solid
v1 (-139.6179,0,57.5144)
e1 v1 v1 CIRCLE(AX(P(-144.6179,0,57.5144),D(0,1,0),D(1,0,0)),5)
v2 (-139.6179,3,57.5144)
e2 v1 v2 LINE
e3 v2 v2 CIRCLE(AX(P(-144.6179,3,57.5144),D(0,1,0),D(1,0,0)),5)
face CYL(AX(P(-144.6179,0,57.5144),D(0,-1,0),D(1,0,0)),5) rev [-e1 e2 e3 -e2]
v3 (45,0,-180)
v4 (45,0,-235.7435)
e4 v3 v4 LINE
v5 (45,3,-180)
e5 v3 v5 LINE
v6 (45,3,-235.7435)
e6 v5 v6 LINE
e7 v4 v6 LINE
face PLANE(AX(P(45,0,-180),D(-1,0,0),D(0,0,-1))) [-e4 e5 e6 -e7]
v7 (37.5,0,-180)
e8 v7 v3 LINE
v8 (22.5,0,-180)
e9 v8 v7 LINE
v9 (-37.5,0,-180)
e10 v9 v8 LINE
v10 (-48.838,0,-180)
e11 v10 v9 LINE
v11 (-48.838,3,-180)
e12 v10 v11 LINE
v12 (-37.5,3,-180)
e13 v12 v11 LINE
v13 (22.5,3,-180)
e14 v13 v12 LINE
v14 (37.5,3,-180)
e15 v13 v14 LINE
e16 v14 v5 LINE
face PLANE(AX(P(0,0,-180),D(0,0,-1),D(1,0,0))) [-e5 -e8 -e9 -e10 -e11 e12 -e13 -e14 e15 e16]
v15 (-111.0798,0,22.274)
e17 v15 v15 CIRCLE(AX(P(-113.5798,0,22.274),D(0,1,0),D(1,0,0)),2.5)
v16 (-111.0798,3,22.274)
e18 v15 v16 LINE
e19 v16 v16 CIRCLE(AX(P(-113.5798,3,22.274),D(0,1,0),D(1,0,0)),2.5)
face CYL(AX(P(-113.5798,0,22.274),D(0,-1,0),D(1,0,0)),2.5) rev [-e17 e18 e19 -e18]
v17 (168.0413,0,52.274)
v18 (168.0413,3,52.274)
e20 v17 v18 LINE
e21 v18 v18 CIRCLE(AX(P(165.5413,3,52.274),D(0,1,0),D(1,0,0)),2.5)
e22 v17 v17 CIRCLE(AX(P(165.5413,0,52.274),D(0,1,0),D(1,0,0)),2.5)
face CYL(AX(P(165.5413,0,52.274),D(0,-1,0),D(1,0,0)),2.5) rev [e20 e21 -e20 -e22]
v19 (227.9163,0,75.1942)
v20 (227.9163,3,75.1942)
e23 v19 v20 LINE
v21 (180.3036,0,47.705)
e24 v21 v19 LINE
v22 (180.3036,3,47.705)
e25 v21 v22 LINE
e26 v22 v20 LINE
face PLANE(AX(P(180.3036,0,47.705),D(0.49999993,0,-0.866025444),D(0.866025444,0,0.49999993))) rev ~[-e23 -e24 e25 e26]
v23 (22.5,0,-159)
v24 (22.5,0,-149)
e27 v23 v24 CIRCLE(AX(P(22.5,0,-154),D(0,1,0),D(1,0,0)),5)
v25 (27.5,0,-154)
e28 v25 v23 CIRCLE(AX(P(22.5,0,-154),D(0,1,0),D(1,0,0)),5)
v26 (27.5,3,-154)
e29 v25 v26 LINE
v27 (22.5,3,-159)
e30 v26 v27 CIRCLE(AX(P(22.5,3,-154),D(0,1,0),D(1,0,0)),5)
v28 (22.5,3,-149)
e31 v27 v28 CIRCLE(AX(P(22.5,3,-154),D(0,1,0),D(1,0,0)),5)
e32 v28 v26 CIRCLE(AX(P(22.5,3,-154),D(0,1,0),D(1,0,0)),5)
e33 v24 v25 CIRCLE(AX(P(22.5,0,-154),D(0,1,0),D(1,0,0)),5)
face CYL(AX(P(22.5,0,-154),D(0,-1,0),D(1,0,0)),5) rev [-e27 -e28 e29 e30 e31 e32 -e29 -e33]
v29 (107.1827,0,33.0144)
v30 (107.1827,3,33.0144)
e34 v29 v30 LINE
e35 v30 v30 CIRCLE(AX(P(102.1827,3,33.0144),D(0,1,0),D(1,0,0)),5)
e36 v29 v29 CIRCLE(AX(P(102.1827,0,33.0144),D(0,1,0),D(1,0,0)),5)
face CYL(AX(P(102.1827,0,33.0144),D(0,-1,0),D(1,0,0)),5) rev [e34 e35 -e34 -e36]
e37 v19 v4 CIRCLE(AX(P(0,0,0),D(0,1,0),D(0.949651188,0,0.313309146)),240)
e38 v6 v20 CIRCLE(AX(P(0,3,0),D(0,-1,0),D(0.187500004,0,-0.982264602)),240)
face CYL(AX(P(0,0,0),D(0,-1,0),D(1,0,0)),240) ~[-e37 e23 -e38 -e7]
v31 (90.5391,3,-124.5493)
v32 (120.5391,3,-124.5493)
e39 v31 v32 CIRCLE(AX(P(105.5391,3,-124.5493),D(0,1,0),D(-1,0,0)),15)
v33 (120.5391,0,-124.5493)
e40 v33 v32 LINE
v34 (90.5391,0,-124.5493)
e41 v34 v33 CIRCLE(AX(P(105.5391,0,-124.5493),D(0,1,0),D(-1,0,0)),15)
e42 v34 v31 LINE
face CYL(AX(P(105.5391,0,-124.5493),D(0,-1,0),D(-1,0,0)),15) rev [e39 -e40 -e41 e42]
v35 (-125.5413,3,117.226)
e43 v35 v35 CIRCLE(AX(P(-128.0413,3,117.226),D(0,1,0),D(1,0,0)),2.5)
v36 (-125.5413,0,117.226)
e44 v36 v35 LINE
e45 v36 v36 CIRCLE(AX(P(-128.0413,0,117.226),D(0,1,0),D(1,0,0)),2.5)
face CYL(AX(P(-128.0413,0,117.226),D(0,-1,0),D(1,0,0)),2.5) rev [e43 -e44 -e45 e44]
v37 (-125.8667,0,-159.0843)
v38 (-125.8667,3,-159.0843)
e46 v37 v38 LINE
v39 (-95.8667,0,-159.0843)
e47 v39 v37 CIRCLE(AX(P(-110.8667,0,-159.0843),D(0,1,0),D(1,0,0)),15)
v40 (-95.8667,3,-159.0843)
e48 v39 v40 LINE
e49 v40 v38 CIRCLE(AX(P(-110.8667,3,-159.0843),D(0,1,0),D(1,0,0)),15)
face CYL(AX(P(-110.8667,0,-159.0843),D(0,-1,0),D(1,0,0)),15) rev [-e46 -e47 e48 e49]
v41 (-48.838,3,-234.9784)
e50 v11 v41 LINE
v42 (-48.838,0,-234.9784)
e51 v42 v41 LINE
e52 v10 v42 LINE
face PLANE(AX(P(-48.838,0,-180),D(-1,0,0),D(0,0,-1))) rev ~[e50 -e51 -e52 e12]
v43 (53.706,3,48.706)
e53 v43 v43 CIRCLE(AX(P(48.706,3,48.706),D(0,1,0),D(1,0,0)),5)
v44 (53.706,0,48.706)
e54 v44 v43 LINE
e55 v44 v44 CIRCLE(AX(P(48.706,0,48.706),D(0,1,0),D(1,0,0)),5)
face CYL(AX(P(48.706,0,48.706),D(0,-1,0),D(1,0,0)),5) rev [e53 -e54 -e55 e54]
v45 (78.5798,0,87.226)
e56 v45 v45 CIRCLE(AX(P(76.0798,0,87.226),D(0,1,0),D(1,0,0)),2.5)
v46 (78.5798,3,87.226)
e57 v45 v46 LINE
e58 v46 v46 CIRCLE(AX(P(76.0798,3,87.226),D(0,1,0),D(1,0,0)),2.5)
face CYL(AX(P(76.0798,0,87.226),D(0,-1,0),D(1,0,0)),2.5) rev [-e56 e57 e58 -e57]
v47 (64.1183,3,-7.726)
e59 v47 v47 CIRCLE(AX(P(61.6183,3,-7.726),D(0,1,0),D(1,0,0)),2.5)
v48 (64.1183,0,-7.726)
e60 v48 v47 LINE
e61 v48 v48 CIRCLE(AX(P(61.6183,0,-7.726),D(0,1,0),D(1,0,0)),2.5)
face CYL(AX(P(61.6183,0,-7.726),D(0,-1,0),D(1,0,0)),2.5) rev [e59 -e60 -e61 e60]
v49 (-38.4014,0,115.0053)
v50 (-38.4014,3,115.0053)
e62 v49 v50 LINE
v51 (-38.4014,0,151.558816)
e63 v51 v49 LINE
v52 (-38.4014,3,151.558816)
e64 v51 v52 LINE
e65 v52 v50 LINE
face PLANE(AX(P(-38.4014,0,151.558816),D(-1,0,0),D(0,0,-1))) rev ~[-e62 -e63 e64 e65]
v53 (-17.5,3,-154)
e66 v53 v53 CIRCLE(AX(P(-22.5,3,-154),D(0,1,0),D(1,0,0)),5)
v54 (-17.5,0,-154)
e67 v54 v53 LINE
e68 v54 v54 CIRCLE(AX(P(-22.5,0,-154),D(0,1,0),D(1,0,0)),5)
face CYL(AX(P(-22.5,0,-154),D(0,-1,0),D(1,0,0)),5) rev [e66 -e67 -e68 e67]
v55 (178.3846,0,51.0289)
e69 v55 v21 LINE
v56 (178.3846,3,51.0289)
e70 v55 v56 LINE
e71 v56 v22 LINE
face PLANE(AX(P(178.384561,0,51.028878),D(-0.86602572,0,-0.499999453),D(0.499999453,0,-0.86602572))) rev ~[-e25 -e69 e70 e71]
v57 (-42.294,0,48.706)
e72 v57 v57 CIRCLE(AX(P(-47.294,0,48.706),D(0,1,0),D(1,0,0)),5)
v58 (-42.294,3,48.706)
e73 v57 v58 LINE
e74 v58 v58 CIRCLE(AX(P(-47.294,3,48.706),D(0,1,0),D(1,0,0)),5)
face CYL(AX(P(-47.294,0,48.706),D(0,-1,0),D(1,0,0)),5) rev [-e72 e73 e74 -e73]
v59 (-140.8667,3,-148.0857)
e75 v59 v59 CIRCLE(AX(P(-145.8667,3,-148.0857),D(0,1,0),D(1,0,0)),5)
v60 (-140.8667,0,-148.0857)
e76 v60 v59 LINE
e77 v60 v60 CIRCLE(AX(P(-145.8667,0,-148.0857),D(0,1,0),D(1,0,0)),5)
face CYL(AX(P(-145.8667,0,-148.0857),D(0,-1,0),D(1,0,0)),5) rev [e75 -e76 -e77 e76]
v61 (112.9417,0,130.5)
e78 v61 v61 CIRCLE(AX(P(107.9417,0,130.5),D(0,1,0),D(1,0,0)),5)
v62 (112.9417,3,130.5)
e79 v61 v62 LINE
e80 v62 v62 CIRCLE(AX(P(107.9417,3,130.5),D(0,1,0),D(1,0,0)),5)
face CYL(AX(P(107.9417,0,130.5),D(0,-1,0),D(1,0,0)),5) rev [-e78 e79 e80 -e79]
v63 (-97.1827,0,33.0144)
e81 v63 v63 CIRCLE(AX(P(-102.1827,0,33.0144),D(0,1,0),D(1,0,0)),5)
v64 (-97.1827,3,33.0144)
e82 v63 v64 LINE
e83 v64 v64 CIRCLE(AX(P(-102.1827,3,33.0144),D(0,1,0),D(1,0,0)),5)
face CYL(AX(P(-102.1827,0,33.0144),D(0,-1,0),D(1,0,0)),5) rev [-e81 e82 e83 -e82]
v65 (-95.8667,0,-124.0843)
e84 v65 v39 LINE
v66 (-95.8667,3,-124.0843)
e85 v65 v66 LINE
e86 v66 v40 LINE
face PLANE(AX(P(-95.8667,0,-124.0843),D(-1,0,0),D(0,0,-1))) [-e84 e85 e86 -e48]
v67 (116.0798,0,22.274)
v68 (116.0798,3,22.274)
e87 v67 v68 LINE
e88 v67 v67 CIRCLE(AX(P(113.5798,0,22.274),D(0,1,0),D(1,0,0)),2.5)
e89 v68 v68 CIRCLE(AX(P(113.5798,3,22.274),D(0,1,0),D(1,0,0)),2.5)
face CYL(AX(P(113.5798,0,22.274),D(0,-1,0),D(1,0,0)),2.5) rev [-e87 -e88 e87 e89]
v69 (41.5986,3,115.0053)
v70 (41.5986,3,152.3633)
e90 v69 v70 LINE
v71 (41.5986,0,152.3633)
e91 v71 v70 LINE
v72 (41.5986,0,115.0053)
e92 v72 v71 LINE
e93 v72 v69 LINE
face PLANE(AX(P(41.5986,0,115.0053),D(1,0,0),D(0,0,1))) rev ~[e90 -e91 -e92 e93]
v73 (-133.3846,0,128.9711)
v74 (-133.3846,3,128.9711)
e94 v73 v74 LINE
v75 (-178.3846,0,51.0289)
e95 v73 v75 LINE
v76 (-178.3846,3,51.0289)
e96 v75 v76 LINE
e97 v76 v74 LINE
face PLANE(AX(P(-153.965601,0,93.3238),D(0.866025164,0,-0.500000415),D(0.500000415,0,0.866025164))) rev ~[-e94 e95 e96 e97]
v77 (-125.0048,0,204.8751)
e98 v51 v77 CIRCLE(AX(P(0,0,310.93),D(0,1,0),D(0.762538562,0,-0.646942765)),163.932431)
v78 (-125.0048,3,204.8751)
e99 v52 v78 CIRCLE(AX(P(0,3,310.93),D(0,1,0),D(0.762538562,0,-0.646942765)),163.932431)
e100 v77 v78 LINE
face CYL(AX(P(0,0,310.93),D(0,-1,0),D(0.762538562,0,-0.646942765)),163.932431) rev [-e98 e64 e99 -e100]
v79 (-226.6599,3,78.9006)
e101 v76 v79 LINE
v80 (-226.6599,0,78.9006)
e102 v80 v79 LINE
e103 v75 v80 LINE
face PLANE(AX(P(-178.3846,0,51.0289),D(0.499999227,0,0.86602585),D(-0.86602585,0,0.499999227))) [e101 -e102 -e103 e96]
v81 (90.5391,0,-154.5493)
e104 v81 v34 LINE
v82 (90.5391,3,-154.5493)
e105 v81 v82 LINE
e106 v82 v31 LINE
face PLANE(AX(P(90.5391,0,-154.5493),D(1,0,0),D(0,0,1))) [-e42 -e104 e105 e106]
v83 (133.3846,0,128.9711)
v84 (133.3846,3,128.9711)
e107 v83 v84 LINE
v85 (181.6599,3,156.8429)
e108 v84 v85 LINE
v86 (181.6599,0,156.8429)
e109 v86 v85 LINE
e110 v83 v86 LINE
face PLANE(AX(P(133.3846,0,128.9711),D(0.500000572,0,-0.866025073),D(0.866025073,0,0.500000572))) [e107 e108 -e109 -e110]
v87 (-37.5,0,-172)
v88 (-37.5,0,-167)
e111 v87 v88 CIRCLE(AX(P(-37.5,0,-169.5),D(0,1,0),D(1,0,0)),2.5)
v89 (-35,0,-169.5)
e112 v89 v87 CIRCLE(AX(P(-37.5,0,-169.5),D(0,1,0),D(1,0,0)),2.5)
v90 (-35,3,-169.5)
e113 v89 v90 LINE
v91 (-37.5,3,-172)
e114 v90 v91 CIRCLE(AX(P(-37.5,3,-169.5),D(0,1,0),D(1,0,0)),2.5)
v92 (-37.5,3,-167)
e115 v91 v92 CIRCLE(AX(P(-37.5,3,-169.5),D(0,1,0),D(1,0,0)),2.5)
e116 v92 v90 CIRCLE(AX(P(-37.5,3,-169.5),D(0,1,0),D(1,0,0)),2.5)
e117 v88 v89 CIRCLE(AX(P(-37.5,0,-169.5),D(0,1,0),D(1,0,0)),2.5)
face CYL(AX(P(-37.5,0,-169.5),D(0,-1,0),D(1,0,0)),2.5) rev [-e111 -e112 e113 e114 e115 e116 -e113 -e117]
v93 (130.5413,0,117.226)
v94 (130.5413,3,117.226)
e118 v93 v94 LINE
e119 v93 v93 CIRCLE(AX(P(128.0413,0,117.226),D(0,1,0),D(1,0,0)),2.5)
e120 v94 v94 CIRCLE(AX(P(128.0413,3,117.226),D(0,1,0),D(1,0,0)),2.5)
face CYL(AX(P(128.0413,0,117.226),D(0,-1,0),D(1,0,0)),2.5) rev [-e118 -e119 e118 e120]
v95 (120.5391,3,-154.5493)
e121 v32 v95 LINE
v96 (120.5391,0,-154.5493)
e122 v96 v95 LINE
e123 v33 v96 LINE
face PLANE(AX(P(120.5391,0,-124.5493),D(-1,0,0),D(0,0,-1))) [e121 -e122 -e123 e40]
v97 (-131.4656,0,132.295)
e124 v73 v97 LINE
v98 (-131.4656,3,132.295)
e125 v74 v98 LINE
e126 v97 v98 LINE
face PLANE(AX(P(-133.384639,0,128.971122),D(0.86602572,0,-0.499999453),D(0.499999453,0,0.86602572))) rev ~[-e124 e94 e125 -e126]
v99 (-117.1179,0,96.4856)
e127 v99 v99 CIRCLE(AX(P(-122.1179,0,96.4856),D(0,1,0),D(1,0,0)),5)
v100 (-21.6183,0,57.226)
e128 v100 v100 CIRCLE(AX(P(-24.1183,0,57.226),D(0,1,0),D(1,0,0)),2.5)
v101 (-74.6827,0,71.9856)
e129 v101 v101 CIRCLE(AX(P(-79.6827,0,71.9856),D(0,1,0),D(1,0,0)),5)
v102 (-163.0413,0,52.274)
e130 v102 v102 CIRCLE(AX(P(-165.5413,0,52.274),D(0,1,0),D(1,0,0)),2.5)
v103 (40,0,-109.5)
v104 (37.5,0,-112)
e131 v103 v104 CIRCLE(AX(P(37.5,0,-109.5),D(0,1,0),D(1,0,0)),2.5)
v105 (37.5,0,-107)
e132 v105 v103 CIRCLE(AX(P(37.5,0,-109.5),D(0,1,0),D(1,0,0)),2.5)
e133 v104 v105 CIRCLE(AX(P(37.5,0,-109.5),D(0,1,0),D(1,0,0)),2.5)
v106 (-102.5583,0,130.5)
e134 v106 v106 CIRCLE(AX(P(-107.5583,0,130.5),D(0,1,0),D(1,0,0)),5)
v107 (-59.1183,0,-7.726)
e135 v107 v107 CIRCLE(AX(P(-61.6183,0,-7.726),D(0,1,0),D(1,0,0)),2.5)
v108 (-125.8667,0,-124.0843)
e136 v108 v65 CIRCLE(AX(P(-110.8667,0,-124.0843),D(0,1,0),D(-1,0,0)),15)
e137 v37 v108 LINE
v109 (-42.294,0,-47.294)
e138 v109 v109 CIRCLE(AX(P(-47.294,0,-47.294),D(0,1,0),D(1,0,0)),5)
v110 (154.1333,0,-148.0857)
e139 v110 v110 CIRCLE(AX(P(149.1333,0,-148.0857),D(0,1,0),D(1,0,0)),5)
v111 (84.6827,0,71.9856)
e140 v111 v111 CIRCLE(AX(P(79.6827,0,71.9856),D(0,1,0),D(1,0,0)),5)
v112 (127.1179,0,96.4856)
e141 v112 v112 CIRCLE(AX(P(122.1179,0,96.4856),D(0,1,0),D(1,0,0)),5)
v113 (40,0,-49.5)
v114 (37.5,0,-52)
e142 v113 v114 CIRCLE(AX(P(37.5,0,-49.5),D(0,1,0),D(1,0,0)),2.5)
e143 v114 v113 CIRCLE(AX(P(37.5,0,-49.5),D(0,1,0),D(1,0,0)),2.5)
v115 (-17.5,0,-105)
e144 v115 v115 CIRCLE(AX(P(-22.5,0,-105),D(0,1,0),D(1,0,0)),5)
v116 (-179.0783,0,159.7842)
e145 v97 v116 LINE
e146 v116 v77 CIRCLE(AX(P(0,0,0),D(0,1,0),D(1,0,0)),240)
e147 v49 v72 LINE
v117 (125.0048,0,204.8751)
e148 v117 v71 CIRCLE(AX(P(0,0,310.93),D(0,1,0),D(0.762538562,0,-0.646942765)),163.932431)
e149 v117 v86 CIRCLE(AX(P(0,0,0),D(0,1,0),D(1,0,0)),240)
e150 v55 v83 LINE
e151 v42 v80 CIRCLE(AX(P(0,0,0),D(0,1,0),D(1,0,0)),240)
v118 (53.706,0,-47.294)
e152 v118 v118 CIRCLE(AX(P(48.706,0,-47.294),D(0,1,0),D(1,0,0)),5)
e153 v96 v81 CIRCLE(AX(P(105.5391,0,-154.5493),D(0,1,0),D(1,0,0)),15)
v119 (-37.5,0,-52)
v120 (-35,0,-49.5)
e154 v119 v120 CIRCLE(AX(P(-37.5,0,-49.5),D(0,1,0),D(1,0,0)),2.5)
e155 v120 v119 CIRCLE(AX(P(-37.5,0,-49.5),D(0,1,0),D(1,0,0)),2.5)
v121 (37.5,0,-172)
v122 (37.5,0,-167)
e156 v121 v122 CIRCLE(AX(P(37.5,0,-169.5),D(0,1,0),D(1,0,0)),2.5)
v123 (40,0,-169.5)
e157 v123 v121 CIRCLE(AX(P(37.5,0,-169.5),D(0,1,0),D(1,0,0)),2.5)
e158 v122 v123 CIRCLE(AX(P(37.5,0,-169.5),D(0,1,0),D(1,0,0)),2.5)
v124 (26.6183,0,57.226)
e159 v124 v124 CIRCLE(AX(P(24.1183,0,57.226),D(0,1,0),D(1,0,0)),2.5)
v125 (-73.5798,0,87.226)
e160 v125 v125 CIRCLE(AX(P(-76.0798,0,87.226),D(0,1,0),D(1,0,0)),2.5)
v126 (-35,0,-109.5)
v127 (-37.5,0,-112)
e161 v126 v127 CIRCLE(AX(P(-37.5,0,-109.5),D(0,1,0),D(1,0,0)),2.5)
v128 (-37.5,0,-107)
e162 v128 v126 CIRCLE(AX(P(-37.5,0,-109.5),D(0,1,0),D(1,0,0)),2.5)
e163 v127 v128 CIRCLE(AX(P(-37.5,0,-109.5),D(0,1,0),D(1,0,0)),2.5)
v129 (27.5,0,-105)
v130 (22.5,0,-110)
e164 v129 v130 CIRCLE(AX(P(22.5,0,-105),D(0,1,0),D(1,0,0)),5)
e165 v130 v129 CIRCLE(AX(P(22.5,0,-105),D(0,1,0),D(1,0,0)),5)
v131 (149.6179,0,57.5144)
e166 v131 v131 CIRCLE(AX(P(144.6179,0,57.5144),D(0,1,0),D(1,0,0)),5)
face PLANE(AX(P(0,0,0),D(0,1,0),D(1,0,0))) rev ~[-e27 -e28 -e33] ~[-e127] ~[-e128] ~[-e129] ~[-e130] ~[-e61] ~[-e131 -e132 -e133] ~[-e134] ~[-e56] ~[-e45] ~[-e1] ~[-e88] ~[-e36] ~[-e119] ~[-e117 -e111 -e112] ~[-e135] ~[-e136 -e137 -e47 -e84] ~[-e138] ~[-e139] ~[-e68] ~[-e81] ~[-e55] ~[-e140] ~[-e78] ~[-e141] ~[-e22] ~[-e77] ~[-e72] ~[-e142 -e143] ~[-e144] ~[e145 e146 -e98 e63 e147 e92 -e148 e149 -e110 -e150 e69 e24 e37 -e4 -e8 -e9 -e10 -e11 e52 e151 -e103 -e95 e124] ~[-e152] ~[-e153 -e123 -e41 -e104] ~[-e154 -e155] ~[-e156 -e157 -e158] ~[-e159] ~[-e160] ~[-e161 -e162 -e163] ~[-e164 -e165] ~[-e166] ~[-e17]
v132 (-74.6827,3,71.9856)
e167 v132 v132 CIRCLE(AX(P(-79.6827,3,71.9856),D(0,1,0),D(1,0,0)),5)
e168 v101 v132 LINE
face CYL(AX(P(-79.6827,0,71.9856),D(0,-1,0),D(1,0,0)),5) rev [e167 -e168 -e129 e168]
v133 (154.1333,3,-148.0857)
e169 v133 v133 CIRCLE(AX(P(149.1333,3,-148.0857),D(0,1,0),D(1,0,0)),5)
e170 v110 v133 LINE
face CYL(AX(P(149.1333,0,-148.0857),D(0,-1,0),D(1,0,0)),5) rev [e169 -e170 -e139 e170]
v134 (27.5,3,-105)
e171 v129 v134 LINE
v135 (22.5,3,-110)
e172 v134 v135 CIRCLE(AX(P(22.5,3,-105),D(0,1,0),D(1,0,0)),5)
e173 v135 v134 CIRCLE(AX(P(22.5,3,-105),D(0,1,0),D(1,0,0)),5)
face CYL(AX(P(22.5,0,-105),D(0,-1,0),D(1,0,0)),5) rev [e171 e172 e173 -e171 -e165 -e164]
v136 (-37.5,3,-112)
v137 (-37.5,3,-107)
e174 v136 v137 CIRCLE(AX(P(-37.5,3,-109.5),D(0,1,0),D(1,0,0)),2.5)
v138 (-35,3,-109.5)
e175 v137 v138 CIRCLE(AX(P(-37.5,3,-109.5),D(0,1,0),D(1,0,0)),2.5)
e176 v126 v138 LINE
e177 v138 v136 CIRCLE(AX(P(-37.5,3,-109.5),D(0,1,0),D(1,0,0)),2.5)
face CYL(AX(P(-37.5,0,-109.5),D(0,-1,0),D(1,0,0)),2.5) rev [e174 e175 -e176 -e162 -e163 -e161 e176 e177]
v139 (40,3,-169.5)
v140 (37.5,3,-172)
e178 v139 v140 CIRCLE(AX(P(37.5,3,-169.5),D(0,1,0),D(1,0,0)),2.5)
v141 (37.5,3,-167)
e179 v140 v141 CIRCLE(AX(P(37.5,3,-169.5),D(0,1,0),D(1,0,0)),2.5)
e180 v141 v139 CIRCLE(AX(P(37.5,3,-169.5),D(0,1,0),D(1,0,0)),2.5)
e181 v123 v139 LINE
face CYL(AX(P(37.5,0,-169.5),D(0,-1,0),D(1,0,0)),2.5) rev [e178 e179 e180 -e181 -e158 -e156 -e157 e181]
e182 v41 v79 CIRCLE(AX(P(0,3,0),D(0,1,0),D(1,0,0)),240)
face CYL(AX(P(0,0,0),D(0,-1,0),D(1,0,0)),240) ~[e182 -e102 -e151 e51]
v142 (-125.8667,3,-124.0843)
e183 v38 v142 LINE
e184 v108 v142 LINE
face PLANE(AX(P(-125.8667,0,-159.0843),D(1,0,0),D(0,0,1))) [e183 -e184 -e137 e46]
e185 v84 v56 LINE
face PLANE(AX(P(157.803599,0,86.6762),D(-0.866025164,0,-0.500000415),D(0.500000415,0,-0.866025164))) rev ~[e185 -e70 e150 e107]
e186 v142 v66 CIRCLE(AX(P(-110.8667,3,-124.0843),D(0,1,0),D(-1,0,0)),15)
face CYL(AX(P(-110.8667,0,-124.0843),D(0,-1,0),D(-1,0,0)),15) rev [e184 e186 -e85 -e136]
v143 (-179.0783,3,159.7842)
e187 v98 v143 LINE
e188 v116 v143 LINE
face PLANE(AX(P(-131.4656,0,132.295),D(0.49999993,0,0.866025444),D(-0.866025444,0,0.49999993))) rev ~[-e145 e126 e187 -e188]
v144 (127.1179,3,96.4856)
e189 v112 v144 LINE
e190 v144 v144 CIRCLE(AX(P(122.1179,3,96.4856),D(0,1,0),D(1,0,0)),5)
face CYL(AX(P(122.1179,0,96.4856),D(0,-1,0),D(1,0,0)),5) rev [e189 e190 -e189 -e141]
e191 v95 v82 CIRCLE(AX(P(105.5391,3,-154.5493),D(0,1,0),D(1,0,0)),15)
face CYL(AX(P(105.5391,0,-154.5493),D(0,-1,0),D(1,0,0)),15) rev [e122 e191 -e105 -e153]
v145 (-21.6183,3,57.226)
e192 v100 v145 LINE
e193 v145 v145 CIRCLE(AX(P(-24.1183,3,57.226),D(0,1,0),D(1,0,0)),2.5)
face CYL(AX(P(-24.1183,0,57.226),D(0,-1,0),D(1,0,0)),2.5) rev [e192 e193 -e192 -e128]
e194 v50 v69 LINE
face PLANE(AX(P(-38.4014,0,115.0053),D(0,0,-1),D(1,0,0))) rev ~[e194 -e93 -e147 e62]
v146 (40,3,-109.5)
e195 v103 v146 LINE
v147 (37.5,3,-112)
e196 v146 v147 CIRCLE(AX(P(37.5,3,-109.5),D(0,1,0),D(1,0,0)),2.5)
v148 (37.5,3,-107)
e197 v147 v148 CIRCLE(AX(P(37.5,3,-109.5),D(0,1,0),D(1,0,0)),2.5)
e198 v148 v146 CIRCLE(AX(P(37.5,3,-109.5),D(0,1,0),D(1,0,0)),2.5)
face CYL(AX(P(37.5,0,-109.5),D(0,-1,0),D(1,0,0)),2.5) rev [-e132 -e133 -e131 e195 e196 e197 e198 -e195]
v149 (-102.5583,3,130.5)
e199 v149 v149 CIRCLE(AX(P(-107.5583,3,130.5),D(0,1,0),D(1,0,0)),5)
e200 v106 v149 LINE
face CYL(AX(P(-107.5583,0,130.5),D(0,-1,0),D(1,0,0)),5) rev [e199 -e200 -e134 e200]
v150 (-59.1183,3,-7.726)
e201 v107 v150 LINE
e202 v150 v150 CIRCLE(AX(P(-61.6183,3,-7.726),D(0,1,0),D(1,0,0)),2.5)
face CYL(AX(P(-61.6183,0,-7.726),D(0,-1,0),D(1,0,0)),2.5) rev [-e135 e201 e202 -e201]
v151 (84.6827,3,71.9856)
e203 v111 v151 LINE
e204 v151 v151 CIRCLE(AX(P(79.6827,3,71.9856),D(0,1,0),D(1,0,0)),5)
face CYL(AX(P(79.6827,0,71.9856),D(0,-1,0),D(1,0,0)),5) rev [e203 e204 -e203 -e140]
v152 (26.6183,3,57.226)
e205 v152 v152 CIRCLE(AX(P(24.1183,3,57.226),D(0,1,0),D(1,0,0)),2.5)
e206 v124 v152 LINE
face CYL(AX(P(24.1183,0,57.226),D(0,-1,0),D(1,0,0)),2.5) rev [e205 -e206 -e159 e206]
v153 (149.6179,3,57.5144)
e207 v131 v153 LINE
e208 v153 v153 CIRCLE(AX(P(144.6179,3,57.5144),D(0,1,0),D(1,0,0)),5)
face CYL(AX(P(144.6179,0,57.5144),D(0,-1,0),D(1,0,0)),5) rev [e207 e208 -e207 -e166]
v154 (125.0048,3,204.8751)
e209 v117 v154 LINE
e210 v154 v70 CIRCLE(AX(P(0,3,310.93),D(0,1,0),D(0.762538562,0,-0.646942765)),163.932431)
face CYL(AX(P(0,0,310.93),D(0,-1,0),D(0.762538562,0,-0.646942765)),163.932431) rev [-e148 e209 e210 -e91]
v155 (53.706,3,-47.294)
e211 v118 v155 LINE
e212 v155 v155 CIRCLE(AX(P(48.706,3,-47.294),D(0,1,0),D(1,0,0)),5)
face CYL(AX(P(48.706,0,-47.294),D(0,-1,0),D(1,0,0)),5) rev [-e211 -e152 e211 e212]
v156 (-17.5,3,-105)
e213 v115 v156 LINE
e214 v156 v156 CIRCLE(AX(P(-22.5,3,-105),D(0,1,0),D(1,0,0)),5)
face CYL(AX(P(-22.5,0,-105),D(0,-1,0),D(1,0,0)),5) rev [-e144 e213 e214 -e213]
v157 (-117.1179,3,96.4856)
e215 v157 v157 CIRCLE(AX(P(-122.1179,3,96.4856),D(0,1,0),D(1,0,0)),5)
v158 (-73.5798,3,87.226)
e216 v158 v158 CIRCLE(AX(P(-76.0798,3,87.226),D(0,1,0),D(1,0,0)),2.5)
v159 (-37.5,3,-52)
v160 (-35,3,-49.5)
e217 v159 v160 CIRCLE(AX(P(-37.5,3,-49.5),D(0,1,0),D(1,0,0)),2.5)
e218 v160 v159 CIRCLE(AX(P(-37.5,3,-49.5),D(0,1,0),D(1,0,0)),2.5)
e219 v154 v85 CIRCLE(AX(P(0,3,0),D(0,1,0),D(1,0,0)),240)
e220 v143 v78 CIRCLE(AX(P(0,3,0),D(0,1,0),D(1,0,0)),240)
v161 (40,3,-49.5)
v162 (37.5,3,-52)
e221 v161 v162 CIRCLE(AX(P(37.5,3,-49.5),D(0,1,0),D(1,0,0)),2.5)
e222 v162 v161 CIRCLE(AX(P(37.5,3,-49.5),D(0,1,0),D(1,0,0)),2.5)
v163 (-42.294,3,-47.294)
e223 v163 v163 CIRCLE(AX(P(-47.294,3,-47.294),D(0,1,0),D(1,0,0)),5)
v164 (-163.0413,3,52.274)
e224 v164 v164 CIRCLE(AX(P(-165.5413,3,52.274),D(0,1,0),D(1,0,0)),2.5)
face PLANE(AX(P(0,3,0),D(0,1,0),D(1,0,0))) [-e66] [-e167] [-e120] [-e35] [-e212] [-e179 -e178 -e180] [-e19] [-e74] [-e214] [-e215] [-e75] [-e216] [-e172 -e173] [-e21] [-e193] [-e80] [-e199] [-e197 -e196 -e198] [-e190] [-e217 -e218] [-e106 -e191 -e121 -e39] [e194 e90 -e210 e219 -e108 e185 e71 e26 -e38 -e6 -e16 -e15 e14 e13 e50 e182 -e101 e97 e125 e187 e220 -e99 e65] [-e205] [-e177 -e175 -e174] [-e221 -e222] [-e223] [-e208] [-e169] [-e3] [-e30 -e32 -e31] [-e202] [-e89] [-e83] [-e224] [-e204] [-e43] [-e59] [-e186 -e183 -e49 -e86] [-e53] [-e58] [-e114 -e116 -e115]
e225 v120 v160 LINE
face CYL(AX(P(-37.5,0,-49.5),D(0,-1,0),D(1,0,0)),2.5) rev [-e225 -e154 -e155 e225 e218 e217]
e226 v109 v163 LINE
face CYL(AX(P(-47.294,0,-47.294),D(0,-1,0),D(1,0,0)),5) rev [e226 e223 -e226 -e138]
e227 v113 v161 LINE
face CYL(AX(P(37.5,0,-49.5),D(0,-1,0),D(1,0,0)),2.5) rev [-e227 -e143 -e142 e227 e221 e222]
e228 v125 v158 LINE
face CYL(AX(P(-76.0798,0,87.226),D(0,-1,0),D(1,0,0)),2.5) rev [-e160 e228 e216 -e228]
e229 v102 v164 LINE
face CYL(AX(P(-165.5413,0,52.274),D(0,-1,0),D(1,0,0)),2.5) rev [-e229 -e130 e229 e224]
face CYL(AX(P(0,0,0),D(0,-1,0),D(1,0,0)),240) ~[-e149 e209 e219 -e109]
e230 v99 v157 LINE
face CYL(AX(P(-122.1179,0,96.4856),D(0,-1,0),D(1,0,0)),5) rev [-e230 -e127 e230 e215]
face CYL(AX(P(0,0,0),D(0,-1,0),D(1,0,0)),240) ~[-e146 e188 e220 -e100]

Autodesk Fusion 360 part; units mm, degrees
sketch "Sketch1" plane through (0, 0, 0) normal (0, 1, 0) x (1, 0, 0)
  circle A0 centre (0, 0) radius 240
  line L0 (0, -240) -> (125, -240)
  line L1 (125, -240) -> (125, -204.878)
  line L2 (0, 240) -> (0, -147)
  line L3 (125, -204.878) -> (-125, -204.878)
  arc A1 (125, -204.878) -> (-125, -204.878) centre (0, -310.9212) ccw
  circle A2 centre (-53.8749, 53.8749) radius 5
  line L4 (-53.8749, 53.8749) -> (51.1251, 53.8749)
  line L5 (51.1251, 53.8749) -> (51.1251, -51.1251)
  line L6 (51.1251, -51.1251) -> (-53.8749, -51.1251)
  line L7 (-53.8749, -51.1251) -> (-53.8749, 53.8749)
  circle A3 centre (51.1251, 53.8749) radius 5
  circle A4 centre (51.1251, -51.1251) radius 5
  circle A5 centre (-53.8749, -51.1251) radius 5
  line L8 (0, 240) -> (250, 240)
  line L9 (-53.8749, 53.8749) -> (-53.8749, 233.8749)
  line L10 (-53.8749, 53.8749) -> (-233.8749, 53.8749)
  line L11 (0, -147) -> (40, -147)
  line L12 (40, -147) -> (40, -151.9553)
  line L13 (0, -147) -> (0, -95)
  line L14 (0, -95) -> (-40, -95)
  line L15 (40, -151.9553) -> (-40, -151.9553)
  line L16 (-40, -151.9553) -> (-40, -95)
  line L17 (-40, -95) -> (40, -95)
  line L18 (40, -95) -> (40, -151.9553)
  line L19 (0, 0) -> (207.8461, -120)
  line L20 (0, 0) -> (240, 0) construction
  line L21 (0, 0) -> (-207.8461, -120)
  line L22 (0, 0) -> (0, 240)
  line L23 (0, 240) -> (45, 240)
  line L24 (45, 240) -> (-45, 240)
  line L25 (-45, 240) -> (-45, 187)
  line L26 (-45, 187) -> (45, 187)
  line L27 (45, 187) -> (45, 240)
  line L28 (207.8461, -120) -> (185.3461, -158.9711)
  line L29 (207.8461, -120) -> (230.3461, -81.0289)
  line L30 (230.3461, -81.0289) -> (184.4468, -54.5289)
  line L31 (184.4468, -54.5289) -> (139.4468, -132.4711)
  line L32 (139.4468, -132.4711) -> (185.3461, -158.9711)
  line L33 (-207.8461, -120) -> (-185.3461, -158.9711)
  line L34 (-185.3461, -158.9711) -> (-139.4468, -132.4711)
  line L35 (-139.4468, -132.4711) -> (-184.4468, -54.5289)
  line L36 (-184.4468, -54.5289) -> (-230.3461, -81.0289)
  line L37 (-207.8461, -120) -> (-230.3461, -81.0289)
  line L38 (-40, -95) -> (-40, -75)
  line L39 (-40, -75) -> (40, -75)
  line L40 (40, -75) -> (40, 74)
  line L41 (40, 74) -> (-40, 74)
  line L42 (0, -75) -> (21, -75)
  line L43 (21, -75) -> (-21, -75)
  line L44 (-21, -75) -> (-21, 74)
  line L45 (21, -75) -> (21, 74)
  circle A6 centre (-21, 74) radius 2
  circle A7 centre (21, 74) radius 2
  circle A8 centre (-21, -75) radius 2
  circle A9 centre (21, -75) radius 2
  line L46 (-139.4468, -132.4711) -> (-143.4468, -125.5429)
  line L47 (-184.4468, -54.5289) -> (-180.4468, -61.4571)
  line L48 (-143.4468, -125.5429) -> (-134.7865, -120.5429)
  line L49 (-134.7865, -120.5429) -> (-82.825, -90.5429)
  line L50 (-82.825, -90.5429) -> (-22.2032, -55.5429)
  line L51 (-139.4468, -132.4711) -> (-151.9468, -110.8205)
  line L52 (-151.9468, -110.8205) -> (-130.2961, -98.3205)
  line L53 (-130.2961, -98.3205) -> (-86.9948, -73.3205)
  line L54 (-184.4468, -54.5289) -> (-171.9468, -76.1795)
  line L55 (-171.9468, -76.1795) -> (-150.2961, -63.6795)
  line L56 (-150.2961, -63.6795) -> (-106.9948, -38.6795)
  line L57 (-180.4468, -61.4571) -> (-171.7865, -56.4571)
  line L58 (-171.7865, -56.4571) -> (-119.825, -26.4571)
  line L59 (-119.825, -26.4571) -> (-59.2032, 8.5429)
  circle A10 centre (-22.2032, -55.5429) radius 2.5
  circle A11 centre (-82.825, -90.5429) radius 2.5
  circle A12 centre (-134.7865, -120.5429) radius 2.5
  circle A13 centre (-59.2032, 8.5429) radius 2.5
  circle A14 centre (-119.825, -26.4571) radius 2.5
  circle A15 centre (-171.7865, -56.4571) radius 2.5
  circle A16 centre (-106.9948, -38.6795) radius 2.5
  circle A17 centre (-150.2961, -63.6795) radius 2.5
  circle A18 centre (-86.9948, -73.3205) radius 2.5
  circle A19 centre (-130.2961, -98.3205) radius 2.5
  circle A20 centre (59.2032, 8.5429) radius 2.5
  circle A21 centre (119.825, -26.4571) radius 2.5
  circle A22 centre (171.7865, -56.4571) radius 2.5
  circle A23 centre (150.2961, -63.6795) radius 2.5
  line L60 (150.2961, -63.6795) -> (106.9948, -38.6795)
  circle A24 centre (106.9948, -38.6795) radius 2.5
  circle A25 centre (130.2961, -98.3205) radius 2.5
  circle A26 centre (86.9948, -73.3205) radius 2.5
  circle A27 centre (82.825, -90.5429) radius 2.5
  circle A28 centre (134.7865, -120.5429) radius 2.5
  circle A29 centre (22.2032, -55.5429) radius 2.5
  line L61 (82.825, -90.5429) -> (22.2032, -55.5429)
  line L62 (134.7865, -120.5429) -> (82.825, -90.5429)
  line L63 (143.4468, -125.5429) -> (134.7865, -120.5429)
  line L64 (151.9468, -110.8205) -> (130.2961, -98.3205)
  line L65 (130.2961, -98.3205) -> (86.9948, -73.3205)
  line L66 (171.9468, -76.1795) -> (150.2961, -63.6795)
  line L67 (180.4468, -61.4571) -> (171.7865, -56.4571)
  line L68 (171.7865, -56.4571) -> (119.825, -26.4571)
  line L69 (119.825, -26.4571) -> (59.2032, 8.5429)
  circle A30 centre (-37, 47) radius 2.5
  circle A31 centre (-37, 117) radius 2.5
  circle A32 centre (-37, 177) radius 2.5
  circle A33 centre (-20, 162) radius 2.5
  line L70 (-20, 162) -> (-20, 112)
  circle A34 centre (-20, 112) radius 2.5
  circle A35 centre (20, 162) radius 2.5
  circle A36 centre (20, 112) radius 2.5
  circle A37 centre (37, 117) radius 2.5
  circle A38 centre (37, 177) radius 2.5
  circle A39 centre (37, 47) radius 2.5
  line L71 (37, 117) -> (37, 47)
  line L72 (37, 177) -> (37, 117)
  line L73 (37, 187) -> (37, 177)
  line L74 (20, 187) -> (20, 162)
  line L75 (20, 162) -> (20, 112)
  line L76 (-20, 187) -> (-20, 162)
  line L77 (-37, 187) -> (-37, 177)
  line L78 (-37, 177) -> (-37, 117)
  line L79 (-37, 117) -> (-37, 47)
  circle A40 centre (120.8737, -122.997) radius 5
  circle A41 centre (-120.8737, -122.997) radius 5
  line L80 (147.6404, 0) -> (147.6404, 146)
  circle A42 centre (147.6404, 146) radius 5
  line L81 (147.6404, 146) -> (106.1404, 146)
  line L82 (106.1404, 146) -> (106.1404, 169)
  line L83 (106.1404, 146) -> (106.1404, 129)
  line L84 (92.1404, 169) -> (92.1404, 129)
  arc A43 (92.1404, 129) -> (120.1404, 129) centre (106.1404, 129) ccw
  line L85 (120.1404, 129) -> (120.1404, 169)
  arc A44 (120.1404, 169) -> (92.1404, 169) centre (106.1404, 169) ccw
  line L86 (106.1404, 169) -> (106.1404, 129) construction
  line L87 (106.1404, 169) -> (-103.8596, 169)
  line L88 (106.1404, 129) -> (-103.8596, 129)
  line L89 (147.6404, 146) -> (-149.3596, 146)
  circle A45 centre (-149.3596, 146) radius 5
  line L90 (-117.8596, 169) -> (-117.8596, 129)
  arc A46 (-117.8596, 129) -> (-89.8596, 129) centre (-103.8596, 129) ccw
  line L91 (-89.8596, 129) -> (-89.8596, 169)
  arc A47 (-89.8596, 169) -> (-117.8596, 169) centre (-103.8596, 169) ccw
  line L92 (-103.8596, 169) -> (-103.8596, 129) construction
  point P0 (-106.9948, -38.6795)
  point P1 (-150.2961, -63.6795)
  point P2 (-59.2032, 8.5429)
  point P3 (-119.825, -26.4571)
  point P4 (-171.7865, -56.4571)
  dimension "d2" = 125
  dimension "d3" = 387
  dimension "d7" = 10
  dimension "d8" = 105
  dimension "d9" = 105
  dimension "d10" = 10
  dimension "d11" = 10
  dimension "d12" = 10
  dimension "d13" = 250
  dimension "d14" = 180
  dimension "d15" = 180
  dimension "d22" = 40
  dimension "d23" = 52
  dimension "d24" = 40
  dimension "d40" = 30
  dimension "d41" = 60
  dimension "d42" = 240
  dimension "d46" = 45
  dimension "d47" = 90
  dimension "d48" = 53
  dimension "d49" = 45
  dimension "d50" = 45
  dimension "d53" = 45
  dimension "d54" = 53
  dimension "d55" = 90
  dimension "d56" = 53
  dimension "d57" = 20
  dimension "d58" = 80
  dimension "d59" = 149
  dimension "d60" = 80
  dimension "d61" = 21
  dimension "d62" = 42
  dimension "d63" = 4
  dimension "d64" = 4
  dimension "d65" = 4
  dimension "d66" = 4
  dimension "d67" = 8
  dimension "d68" = 8
  dimension "d69" = 10
  dimension "d70" = 60
  dimension "d71" = 70
  dimension "d72" = 25
  dimension "d73" = 25
  dimension "d74" = 50
  dimension "d75" = 25
  dimension "d76" = 5
  dimension "d77" = 5
  dimension "d78" = 5
  dimension "d79" = 5
  dimension "d80" = 5
  dimension "d81" = 5
  dimension "d82" = 5
  dimension "d83" = 5
  dimension "d84" = 5
  dimension "d85" = 5
  dimension "d87" = 360
  dimension "d33" = 10
  dimension "d89" = 146
  dimension "d90" = 10
  dimension "d91" = 41.5
  dimension "d92" = 23
  dimension "d93" = 17
  dimension "d94" = 28
  dimension "d95" = 210
  dimension "d96" = 210
  dimension "d97" = 297
  dimension "d98" = 10
  dimension "d99" = 28
sketch "Sketch2" plane through (0, 0, 0) normal (0, 1, 0) x (1, 0, 0)
  circle A0 centre (0, 0) radius 240
  line L0 (0, 0) -> (0, 240)
  line L1 (0, 240) -> (0, 180)
  line L2 (0, 180) -> (45, 180)
  line L3 (45, 180) -> (45, 235.7435)
  line L4 (0, 180) -> (-3.838, 180)
  line L5 (-3.838, 180) -> (-48.838, 180)
  line L6 (-48.838, 180) -> (-48.838, 234.9784)
  circle A1 centre (-24.1183, -57.226) radius 2.5
  line L7 (-37.5, 180) -> (-37.5, 169.5)
  circle A2 centre (-113.5798, -22.274) radius 2.5
  circle A3 centre (-37.5, 109.5) radius 2.5
  circle A4 centre (-128.0413, -117.226) radius 2.5
  line L8 (0, 0) -> (0, 240)
  circle A5 centre (165.5413, -52.274) radius 2.5
  circle A6 centre (76.0798, -87.226) radius 2.5
  line L9 (37.5, 169.5) -> (37.5, 109.5)
  line L10 (0, 240) -> (0, 180)
  circle A7 centre (37.5, 109.5) radius 2.5
  line L11 (0, 0) -> (207.8461, -120)
  circle A8 centre (37.5, 49.5) radius 2.5
  line L12 (45, 180) -> (45, 235.7435)
  circle A9 centre (113.5798, -22.274) radius 2.5
  circle A10 centre (0, 0) radius 240
  line L13 (0, 180) -> (45, 180)
  circle A11 centre (37.5, 169.5) radius 2.5
  line L14 (37.5, 180) -> (37.5, 169.5)
  line L15 (37.5, 109.5) -> (37.5, 49.5)
  line L16 (0, 0) -> (240, 0) construction
  line L17 (0, 180) -> (-45, 180)
  line L18 (0, 180) -> (-37.5, 180)
  circle A12 centre (-61.6183, 7.726) radius 2.5
  line L19 (0, 0) -> (-207.8461, -120)
  circle A13 centre (61.6183, 7.726) radius 2.5
  circle A14 centre (-37.5, 169.5) radius 2.5
  circle A15 centre (-76.0798, -87.226) radius 2.5
  circle A16 centre (-37.5, 49.5) radius 2.5
  circle A17 centre (-165.5413, -52.274) radius 2.5
  line L20 (-37.5, 109.5) -> (-37.5, 49.5)
  line L21 (-37.5, 169.5) -> (-37.5, 109.5)
  circle A18 centre (24.1183, -57.226) radius 2.5
  line L22 (0, 0) -> (240, 0) construction
  circle A19 centre (128.0413, -117.226) radius 2.5
  line L23 (0, 180) -> (22.5, 180)
  line L24 (22.5, 180) -> (22.5, 154)
  line L25 (22.5, 154) -> (22.5, 105)
  circle A20 centre (22.5, 154) radius 5
  circle A21 centre (22.5, 105) radius 5
  circle A22 centre (-22.5, 105) radius 5
  circle A23 centre (-22.5, 154) radius 5
  circle A24 centre (-144.6179, -57.5144) radius 5
  circle A25 centre (-122.1179, -96.4856) radius 5
  circle A26 centre (-128.0413, -117.226) radius 2.5
  circle A27 centre (-76.0798, -87.226) radius 2.5
  circle A28 centre (-79.6827, -71.9856) radius 5
  circle A29 centre (-102.1827, -33.0144) radius 5
  circle A30 centre (-113.5798, -22.274) radius 2.5
  circle A31 centre (-165.5413, -52.274) radius 2.5
  circle A32 centre (-24.1183, -57.226) radius 2.5
  circle A33 centre (-61.6183, 7.726) radius 2.5
  circle A34 centre (122.1179, -96.4856) radius 5
  circle A35 centre (144.6179, -57.5144) radius 5
  circle A36 centre (165.5413, -52.274) radius 2.5
  circle A37 centre (113.5798, -22.274) radius 2.5
  circle A38 centre (102.1827, -33.0144) radius 5
  circle A39 centre (79.6827, -71.9856) radius 5
  circle A40 centre (76.0798, -87.226) radius 2.5
  circle A41 centre (128.0413, -117.226) radius 2.5
  circle A42 centre (61.6183, 7.726) radius 2.5
  circle A43 centre (24.1183, -57.226) radius 2.5
  line L26 (-131.4656, -132.295) -> (-179.0783, -159.7842)
  line L27 (-178.3846, -51.0289) -> (-226.6599, -78.9006)
  line L28 (-155.8846, -90) -> (-178.3846, -51.0289)
  line L29 (-155.8846, -90) -> (-133.3846, -128.9711)
  line L30 (-153.9656, -93.3238) -> (-131.4656, -132.295)
  line L31 (180.3036, -47.705) -> (227.9163, -75.1942)
  line L32 (133.3846, -128.9711) -> (181.6599, -156.8429)
  line L33 (155.8846, -90) -> (133.3846, -128.9711)
  line L34 (155.8846, -90) -> (178.3846, -51.0289)
  line L35 (157.8036, -86.6762) -> (180.3036, -47.705)
  circle A44 centre (-107.5583, -130.5) radius 5
  circle A45 centre (107.9417, -130.5) radius 5
  circle A46 centre (149.1333, 148.0857) radius 5
  arc A47 (120.5391, 154.5493) -> (90.5391, 154.5493) centre (105.5391, 154.5493) ccw
  line L36 (120.5391, 124.5493) -> (120.5391, 154.5493)
  arc A48 (90.5391, 124.5493) -> (120.5391, 124.5493) centre (105.5391, 124.5493) ccw
  line L37 (90.5391, 154.5493) -> (90.5391, 124.5493)
  arc A49 (-95.8667, 159.0843) -> (-125.8667, 159.0843) centre (-110.8667, 159.0843) ccw
  line L38 (-95.8667, 124.0843) -> (-95.8667, 159.0843)
  arc A50 (-125.8667, 124.0843) -> (-95.8667, 124.0843) centre (-110.8667, 124.0843) ccw
  line L39 (-125.8667, 159.0843) -> (-125.8667, 124.0843)
  circle A51 centre (-145.8667, 148.0857) radius 5
  circle A52 centre (48.706, 47.294) radius 5
  circle A53 centre (-47.294, 47.294) radius 5
  circle A54 centre (-47.294, -48.706) radius 5
  circle A55 centre (48.706, -48.706) radius 5
  arc A56 (125.0048, -204.8751) -> (-125.0048, -204.8751) centre (0, -310.93) ccw
  line L40 (-38.4014, -152.3633) -> (-38.4014, -115.0053)
  line L41 (-38.4014, -115.0053) -> (41.5986, -115.0053)
  line L42 (41.5986, -115.0053) -> (41.5986, -152.3633)
  dimension "d100" = 480
  dimension "d101" = 60
  dimension "d102" = 45
  dimension "d103" = 45
  dimension "d107" = 360
  dimension "d108" = 480
  dimension "d109" = 150
  dimension "d110" = 30
  dimension "d111" = 60
  dimension "d112" = 45
  dimension "d113" = 45
  dimension "d114" = 37.5
  dimension "d115" = 10.5
  dimension "d116" = 5
  dimension "d117" = 60
  dimension "d118" = 60
  dimension "d119" = 5
  dimension "d120" = 5
  dimension "d123" = 22.5
  dimension "d124" = 26
  dimension "d125" = 49
  dimension "d126" = 10
  dimension "d127" = 10
  dimension "d129" = 360
  dimension "d131" = 360
  dimension "d132" = 10
  dimension "d133" = 10
  dimension "d134" = 10
  dimension "d135" = 10
  dimension "d21" = 30
  dimension "d27" = 10
  dimension "d30" = 30
  dimension "d139" = 10
  dimension "d140" = 10
  dimension "d43" = 10
extrude "Extrude2" add sketch "Sketch2" along normal blind 3 contours A0 L0 L2 L3 L8 L11 L12 A10 L13 L23 L31 L34 L35 | A0 L0 L4 L5 L6 L8 A10 L17 L18 L19 L27 L28 | A0 L11 A10 L19 L26 L29 L30 L32 L33 A56 L40 L41 L42
equation "d2 = ( 250 / 2 ) * 1 mm"
equation "d3 = 355 mm + 32 mm"
equation "d61 = ( 42 / 2 ) * 1 mm"
equation "d93 = 40 mm - 23 mm"
equation "d103 = ( 90 / 2 ) * 1 mm"
equation "d110 = 150 deg - 120 deg"
equation "d112 = ( 90 / 2 ) * 1 mm"
equation "d113 = ( 90 / 2 ) * 1 mm"
equation "d123 = ( 45 / 2 ) * 1 mm"
equation "d125 = 75 mm - 26 mm"
